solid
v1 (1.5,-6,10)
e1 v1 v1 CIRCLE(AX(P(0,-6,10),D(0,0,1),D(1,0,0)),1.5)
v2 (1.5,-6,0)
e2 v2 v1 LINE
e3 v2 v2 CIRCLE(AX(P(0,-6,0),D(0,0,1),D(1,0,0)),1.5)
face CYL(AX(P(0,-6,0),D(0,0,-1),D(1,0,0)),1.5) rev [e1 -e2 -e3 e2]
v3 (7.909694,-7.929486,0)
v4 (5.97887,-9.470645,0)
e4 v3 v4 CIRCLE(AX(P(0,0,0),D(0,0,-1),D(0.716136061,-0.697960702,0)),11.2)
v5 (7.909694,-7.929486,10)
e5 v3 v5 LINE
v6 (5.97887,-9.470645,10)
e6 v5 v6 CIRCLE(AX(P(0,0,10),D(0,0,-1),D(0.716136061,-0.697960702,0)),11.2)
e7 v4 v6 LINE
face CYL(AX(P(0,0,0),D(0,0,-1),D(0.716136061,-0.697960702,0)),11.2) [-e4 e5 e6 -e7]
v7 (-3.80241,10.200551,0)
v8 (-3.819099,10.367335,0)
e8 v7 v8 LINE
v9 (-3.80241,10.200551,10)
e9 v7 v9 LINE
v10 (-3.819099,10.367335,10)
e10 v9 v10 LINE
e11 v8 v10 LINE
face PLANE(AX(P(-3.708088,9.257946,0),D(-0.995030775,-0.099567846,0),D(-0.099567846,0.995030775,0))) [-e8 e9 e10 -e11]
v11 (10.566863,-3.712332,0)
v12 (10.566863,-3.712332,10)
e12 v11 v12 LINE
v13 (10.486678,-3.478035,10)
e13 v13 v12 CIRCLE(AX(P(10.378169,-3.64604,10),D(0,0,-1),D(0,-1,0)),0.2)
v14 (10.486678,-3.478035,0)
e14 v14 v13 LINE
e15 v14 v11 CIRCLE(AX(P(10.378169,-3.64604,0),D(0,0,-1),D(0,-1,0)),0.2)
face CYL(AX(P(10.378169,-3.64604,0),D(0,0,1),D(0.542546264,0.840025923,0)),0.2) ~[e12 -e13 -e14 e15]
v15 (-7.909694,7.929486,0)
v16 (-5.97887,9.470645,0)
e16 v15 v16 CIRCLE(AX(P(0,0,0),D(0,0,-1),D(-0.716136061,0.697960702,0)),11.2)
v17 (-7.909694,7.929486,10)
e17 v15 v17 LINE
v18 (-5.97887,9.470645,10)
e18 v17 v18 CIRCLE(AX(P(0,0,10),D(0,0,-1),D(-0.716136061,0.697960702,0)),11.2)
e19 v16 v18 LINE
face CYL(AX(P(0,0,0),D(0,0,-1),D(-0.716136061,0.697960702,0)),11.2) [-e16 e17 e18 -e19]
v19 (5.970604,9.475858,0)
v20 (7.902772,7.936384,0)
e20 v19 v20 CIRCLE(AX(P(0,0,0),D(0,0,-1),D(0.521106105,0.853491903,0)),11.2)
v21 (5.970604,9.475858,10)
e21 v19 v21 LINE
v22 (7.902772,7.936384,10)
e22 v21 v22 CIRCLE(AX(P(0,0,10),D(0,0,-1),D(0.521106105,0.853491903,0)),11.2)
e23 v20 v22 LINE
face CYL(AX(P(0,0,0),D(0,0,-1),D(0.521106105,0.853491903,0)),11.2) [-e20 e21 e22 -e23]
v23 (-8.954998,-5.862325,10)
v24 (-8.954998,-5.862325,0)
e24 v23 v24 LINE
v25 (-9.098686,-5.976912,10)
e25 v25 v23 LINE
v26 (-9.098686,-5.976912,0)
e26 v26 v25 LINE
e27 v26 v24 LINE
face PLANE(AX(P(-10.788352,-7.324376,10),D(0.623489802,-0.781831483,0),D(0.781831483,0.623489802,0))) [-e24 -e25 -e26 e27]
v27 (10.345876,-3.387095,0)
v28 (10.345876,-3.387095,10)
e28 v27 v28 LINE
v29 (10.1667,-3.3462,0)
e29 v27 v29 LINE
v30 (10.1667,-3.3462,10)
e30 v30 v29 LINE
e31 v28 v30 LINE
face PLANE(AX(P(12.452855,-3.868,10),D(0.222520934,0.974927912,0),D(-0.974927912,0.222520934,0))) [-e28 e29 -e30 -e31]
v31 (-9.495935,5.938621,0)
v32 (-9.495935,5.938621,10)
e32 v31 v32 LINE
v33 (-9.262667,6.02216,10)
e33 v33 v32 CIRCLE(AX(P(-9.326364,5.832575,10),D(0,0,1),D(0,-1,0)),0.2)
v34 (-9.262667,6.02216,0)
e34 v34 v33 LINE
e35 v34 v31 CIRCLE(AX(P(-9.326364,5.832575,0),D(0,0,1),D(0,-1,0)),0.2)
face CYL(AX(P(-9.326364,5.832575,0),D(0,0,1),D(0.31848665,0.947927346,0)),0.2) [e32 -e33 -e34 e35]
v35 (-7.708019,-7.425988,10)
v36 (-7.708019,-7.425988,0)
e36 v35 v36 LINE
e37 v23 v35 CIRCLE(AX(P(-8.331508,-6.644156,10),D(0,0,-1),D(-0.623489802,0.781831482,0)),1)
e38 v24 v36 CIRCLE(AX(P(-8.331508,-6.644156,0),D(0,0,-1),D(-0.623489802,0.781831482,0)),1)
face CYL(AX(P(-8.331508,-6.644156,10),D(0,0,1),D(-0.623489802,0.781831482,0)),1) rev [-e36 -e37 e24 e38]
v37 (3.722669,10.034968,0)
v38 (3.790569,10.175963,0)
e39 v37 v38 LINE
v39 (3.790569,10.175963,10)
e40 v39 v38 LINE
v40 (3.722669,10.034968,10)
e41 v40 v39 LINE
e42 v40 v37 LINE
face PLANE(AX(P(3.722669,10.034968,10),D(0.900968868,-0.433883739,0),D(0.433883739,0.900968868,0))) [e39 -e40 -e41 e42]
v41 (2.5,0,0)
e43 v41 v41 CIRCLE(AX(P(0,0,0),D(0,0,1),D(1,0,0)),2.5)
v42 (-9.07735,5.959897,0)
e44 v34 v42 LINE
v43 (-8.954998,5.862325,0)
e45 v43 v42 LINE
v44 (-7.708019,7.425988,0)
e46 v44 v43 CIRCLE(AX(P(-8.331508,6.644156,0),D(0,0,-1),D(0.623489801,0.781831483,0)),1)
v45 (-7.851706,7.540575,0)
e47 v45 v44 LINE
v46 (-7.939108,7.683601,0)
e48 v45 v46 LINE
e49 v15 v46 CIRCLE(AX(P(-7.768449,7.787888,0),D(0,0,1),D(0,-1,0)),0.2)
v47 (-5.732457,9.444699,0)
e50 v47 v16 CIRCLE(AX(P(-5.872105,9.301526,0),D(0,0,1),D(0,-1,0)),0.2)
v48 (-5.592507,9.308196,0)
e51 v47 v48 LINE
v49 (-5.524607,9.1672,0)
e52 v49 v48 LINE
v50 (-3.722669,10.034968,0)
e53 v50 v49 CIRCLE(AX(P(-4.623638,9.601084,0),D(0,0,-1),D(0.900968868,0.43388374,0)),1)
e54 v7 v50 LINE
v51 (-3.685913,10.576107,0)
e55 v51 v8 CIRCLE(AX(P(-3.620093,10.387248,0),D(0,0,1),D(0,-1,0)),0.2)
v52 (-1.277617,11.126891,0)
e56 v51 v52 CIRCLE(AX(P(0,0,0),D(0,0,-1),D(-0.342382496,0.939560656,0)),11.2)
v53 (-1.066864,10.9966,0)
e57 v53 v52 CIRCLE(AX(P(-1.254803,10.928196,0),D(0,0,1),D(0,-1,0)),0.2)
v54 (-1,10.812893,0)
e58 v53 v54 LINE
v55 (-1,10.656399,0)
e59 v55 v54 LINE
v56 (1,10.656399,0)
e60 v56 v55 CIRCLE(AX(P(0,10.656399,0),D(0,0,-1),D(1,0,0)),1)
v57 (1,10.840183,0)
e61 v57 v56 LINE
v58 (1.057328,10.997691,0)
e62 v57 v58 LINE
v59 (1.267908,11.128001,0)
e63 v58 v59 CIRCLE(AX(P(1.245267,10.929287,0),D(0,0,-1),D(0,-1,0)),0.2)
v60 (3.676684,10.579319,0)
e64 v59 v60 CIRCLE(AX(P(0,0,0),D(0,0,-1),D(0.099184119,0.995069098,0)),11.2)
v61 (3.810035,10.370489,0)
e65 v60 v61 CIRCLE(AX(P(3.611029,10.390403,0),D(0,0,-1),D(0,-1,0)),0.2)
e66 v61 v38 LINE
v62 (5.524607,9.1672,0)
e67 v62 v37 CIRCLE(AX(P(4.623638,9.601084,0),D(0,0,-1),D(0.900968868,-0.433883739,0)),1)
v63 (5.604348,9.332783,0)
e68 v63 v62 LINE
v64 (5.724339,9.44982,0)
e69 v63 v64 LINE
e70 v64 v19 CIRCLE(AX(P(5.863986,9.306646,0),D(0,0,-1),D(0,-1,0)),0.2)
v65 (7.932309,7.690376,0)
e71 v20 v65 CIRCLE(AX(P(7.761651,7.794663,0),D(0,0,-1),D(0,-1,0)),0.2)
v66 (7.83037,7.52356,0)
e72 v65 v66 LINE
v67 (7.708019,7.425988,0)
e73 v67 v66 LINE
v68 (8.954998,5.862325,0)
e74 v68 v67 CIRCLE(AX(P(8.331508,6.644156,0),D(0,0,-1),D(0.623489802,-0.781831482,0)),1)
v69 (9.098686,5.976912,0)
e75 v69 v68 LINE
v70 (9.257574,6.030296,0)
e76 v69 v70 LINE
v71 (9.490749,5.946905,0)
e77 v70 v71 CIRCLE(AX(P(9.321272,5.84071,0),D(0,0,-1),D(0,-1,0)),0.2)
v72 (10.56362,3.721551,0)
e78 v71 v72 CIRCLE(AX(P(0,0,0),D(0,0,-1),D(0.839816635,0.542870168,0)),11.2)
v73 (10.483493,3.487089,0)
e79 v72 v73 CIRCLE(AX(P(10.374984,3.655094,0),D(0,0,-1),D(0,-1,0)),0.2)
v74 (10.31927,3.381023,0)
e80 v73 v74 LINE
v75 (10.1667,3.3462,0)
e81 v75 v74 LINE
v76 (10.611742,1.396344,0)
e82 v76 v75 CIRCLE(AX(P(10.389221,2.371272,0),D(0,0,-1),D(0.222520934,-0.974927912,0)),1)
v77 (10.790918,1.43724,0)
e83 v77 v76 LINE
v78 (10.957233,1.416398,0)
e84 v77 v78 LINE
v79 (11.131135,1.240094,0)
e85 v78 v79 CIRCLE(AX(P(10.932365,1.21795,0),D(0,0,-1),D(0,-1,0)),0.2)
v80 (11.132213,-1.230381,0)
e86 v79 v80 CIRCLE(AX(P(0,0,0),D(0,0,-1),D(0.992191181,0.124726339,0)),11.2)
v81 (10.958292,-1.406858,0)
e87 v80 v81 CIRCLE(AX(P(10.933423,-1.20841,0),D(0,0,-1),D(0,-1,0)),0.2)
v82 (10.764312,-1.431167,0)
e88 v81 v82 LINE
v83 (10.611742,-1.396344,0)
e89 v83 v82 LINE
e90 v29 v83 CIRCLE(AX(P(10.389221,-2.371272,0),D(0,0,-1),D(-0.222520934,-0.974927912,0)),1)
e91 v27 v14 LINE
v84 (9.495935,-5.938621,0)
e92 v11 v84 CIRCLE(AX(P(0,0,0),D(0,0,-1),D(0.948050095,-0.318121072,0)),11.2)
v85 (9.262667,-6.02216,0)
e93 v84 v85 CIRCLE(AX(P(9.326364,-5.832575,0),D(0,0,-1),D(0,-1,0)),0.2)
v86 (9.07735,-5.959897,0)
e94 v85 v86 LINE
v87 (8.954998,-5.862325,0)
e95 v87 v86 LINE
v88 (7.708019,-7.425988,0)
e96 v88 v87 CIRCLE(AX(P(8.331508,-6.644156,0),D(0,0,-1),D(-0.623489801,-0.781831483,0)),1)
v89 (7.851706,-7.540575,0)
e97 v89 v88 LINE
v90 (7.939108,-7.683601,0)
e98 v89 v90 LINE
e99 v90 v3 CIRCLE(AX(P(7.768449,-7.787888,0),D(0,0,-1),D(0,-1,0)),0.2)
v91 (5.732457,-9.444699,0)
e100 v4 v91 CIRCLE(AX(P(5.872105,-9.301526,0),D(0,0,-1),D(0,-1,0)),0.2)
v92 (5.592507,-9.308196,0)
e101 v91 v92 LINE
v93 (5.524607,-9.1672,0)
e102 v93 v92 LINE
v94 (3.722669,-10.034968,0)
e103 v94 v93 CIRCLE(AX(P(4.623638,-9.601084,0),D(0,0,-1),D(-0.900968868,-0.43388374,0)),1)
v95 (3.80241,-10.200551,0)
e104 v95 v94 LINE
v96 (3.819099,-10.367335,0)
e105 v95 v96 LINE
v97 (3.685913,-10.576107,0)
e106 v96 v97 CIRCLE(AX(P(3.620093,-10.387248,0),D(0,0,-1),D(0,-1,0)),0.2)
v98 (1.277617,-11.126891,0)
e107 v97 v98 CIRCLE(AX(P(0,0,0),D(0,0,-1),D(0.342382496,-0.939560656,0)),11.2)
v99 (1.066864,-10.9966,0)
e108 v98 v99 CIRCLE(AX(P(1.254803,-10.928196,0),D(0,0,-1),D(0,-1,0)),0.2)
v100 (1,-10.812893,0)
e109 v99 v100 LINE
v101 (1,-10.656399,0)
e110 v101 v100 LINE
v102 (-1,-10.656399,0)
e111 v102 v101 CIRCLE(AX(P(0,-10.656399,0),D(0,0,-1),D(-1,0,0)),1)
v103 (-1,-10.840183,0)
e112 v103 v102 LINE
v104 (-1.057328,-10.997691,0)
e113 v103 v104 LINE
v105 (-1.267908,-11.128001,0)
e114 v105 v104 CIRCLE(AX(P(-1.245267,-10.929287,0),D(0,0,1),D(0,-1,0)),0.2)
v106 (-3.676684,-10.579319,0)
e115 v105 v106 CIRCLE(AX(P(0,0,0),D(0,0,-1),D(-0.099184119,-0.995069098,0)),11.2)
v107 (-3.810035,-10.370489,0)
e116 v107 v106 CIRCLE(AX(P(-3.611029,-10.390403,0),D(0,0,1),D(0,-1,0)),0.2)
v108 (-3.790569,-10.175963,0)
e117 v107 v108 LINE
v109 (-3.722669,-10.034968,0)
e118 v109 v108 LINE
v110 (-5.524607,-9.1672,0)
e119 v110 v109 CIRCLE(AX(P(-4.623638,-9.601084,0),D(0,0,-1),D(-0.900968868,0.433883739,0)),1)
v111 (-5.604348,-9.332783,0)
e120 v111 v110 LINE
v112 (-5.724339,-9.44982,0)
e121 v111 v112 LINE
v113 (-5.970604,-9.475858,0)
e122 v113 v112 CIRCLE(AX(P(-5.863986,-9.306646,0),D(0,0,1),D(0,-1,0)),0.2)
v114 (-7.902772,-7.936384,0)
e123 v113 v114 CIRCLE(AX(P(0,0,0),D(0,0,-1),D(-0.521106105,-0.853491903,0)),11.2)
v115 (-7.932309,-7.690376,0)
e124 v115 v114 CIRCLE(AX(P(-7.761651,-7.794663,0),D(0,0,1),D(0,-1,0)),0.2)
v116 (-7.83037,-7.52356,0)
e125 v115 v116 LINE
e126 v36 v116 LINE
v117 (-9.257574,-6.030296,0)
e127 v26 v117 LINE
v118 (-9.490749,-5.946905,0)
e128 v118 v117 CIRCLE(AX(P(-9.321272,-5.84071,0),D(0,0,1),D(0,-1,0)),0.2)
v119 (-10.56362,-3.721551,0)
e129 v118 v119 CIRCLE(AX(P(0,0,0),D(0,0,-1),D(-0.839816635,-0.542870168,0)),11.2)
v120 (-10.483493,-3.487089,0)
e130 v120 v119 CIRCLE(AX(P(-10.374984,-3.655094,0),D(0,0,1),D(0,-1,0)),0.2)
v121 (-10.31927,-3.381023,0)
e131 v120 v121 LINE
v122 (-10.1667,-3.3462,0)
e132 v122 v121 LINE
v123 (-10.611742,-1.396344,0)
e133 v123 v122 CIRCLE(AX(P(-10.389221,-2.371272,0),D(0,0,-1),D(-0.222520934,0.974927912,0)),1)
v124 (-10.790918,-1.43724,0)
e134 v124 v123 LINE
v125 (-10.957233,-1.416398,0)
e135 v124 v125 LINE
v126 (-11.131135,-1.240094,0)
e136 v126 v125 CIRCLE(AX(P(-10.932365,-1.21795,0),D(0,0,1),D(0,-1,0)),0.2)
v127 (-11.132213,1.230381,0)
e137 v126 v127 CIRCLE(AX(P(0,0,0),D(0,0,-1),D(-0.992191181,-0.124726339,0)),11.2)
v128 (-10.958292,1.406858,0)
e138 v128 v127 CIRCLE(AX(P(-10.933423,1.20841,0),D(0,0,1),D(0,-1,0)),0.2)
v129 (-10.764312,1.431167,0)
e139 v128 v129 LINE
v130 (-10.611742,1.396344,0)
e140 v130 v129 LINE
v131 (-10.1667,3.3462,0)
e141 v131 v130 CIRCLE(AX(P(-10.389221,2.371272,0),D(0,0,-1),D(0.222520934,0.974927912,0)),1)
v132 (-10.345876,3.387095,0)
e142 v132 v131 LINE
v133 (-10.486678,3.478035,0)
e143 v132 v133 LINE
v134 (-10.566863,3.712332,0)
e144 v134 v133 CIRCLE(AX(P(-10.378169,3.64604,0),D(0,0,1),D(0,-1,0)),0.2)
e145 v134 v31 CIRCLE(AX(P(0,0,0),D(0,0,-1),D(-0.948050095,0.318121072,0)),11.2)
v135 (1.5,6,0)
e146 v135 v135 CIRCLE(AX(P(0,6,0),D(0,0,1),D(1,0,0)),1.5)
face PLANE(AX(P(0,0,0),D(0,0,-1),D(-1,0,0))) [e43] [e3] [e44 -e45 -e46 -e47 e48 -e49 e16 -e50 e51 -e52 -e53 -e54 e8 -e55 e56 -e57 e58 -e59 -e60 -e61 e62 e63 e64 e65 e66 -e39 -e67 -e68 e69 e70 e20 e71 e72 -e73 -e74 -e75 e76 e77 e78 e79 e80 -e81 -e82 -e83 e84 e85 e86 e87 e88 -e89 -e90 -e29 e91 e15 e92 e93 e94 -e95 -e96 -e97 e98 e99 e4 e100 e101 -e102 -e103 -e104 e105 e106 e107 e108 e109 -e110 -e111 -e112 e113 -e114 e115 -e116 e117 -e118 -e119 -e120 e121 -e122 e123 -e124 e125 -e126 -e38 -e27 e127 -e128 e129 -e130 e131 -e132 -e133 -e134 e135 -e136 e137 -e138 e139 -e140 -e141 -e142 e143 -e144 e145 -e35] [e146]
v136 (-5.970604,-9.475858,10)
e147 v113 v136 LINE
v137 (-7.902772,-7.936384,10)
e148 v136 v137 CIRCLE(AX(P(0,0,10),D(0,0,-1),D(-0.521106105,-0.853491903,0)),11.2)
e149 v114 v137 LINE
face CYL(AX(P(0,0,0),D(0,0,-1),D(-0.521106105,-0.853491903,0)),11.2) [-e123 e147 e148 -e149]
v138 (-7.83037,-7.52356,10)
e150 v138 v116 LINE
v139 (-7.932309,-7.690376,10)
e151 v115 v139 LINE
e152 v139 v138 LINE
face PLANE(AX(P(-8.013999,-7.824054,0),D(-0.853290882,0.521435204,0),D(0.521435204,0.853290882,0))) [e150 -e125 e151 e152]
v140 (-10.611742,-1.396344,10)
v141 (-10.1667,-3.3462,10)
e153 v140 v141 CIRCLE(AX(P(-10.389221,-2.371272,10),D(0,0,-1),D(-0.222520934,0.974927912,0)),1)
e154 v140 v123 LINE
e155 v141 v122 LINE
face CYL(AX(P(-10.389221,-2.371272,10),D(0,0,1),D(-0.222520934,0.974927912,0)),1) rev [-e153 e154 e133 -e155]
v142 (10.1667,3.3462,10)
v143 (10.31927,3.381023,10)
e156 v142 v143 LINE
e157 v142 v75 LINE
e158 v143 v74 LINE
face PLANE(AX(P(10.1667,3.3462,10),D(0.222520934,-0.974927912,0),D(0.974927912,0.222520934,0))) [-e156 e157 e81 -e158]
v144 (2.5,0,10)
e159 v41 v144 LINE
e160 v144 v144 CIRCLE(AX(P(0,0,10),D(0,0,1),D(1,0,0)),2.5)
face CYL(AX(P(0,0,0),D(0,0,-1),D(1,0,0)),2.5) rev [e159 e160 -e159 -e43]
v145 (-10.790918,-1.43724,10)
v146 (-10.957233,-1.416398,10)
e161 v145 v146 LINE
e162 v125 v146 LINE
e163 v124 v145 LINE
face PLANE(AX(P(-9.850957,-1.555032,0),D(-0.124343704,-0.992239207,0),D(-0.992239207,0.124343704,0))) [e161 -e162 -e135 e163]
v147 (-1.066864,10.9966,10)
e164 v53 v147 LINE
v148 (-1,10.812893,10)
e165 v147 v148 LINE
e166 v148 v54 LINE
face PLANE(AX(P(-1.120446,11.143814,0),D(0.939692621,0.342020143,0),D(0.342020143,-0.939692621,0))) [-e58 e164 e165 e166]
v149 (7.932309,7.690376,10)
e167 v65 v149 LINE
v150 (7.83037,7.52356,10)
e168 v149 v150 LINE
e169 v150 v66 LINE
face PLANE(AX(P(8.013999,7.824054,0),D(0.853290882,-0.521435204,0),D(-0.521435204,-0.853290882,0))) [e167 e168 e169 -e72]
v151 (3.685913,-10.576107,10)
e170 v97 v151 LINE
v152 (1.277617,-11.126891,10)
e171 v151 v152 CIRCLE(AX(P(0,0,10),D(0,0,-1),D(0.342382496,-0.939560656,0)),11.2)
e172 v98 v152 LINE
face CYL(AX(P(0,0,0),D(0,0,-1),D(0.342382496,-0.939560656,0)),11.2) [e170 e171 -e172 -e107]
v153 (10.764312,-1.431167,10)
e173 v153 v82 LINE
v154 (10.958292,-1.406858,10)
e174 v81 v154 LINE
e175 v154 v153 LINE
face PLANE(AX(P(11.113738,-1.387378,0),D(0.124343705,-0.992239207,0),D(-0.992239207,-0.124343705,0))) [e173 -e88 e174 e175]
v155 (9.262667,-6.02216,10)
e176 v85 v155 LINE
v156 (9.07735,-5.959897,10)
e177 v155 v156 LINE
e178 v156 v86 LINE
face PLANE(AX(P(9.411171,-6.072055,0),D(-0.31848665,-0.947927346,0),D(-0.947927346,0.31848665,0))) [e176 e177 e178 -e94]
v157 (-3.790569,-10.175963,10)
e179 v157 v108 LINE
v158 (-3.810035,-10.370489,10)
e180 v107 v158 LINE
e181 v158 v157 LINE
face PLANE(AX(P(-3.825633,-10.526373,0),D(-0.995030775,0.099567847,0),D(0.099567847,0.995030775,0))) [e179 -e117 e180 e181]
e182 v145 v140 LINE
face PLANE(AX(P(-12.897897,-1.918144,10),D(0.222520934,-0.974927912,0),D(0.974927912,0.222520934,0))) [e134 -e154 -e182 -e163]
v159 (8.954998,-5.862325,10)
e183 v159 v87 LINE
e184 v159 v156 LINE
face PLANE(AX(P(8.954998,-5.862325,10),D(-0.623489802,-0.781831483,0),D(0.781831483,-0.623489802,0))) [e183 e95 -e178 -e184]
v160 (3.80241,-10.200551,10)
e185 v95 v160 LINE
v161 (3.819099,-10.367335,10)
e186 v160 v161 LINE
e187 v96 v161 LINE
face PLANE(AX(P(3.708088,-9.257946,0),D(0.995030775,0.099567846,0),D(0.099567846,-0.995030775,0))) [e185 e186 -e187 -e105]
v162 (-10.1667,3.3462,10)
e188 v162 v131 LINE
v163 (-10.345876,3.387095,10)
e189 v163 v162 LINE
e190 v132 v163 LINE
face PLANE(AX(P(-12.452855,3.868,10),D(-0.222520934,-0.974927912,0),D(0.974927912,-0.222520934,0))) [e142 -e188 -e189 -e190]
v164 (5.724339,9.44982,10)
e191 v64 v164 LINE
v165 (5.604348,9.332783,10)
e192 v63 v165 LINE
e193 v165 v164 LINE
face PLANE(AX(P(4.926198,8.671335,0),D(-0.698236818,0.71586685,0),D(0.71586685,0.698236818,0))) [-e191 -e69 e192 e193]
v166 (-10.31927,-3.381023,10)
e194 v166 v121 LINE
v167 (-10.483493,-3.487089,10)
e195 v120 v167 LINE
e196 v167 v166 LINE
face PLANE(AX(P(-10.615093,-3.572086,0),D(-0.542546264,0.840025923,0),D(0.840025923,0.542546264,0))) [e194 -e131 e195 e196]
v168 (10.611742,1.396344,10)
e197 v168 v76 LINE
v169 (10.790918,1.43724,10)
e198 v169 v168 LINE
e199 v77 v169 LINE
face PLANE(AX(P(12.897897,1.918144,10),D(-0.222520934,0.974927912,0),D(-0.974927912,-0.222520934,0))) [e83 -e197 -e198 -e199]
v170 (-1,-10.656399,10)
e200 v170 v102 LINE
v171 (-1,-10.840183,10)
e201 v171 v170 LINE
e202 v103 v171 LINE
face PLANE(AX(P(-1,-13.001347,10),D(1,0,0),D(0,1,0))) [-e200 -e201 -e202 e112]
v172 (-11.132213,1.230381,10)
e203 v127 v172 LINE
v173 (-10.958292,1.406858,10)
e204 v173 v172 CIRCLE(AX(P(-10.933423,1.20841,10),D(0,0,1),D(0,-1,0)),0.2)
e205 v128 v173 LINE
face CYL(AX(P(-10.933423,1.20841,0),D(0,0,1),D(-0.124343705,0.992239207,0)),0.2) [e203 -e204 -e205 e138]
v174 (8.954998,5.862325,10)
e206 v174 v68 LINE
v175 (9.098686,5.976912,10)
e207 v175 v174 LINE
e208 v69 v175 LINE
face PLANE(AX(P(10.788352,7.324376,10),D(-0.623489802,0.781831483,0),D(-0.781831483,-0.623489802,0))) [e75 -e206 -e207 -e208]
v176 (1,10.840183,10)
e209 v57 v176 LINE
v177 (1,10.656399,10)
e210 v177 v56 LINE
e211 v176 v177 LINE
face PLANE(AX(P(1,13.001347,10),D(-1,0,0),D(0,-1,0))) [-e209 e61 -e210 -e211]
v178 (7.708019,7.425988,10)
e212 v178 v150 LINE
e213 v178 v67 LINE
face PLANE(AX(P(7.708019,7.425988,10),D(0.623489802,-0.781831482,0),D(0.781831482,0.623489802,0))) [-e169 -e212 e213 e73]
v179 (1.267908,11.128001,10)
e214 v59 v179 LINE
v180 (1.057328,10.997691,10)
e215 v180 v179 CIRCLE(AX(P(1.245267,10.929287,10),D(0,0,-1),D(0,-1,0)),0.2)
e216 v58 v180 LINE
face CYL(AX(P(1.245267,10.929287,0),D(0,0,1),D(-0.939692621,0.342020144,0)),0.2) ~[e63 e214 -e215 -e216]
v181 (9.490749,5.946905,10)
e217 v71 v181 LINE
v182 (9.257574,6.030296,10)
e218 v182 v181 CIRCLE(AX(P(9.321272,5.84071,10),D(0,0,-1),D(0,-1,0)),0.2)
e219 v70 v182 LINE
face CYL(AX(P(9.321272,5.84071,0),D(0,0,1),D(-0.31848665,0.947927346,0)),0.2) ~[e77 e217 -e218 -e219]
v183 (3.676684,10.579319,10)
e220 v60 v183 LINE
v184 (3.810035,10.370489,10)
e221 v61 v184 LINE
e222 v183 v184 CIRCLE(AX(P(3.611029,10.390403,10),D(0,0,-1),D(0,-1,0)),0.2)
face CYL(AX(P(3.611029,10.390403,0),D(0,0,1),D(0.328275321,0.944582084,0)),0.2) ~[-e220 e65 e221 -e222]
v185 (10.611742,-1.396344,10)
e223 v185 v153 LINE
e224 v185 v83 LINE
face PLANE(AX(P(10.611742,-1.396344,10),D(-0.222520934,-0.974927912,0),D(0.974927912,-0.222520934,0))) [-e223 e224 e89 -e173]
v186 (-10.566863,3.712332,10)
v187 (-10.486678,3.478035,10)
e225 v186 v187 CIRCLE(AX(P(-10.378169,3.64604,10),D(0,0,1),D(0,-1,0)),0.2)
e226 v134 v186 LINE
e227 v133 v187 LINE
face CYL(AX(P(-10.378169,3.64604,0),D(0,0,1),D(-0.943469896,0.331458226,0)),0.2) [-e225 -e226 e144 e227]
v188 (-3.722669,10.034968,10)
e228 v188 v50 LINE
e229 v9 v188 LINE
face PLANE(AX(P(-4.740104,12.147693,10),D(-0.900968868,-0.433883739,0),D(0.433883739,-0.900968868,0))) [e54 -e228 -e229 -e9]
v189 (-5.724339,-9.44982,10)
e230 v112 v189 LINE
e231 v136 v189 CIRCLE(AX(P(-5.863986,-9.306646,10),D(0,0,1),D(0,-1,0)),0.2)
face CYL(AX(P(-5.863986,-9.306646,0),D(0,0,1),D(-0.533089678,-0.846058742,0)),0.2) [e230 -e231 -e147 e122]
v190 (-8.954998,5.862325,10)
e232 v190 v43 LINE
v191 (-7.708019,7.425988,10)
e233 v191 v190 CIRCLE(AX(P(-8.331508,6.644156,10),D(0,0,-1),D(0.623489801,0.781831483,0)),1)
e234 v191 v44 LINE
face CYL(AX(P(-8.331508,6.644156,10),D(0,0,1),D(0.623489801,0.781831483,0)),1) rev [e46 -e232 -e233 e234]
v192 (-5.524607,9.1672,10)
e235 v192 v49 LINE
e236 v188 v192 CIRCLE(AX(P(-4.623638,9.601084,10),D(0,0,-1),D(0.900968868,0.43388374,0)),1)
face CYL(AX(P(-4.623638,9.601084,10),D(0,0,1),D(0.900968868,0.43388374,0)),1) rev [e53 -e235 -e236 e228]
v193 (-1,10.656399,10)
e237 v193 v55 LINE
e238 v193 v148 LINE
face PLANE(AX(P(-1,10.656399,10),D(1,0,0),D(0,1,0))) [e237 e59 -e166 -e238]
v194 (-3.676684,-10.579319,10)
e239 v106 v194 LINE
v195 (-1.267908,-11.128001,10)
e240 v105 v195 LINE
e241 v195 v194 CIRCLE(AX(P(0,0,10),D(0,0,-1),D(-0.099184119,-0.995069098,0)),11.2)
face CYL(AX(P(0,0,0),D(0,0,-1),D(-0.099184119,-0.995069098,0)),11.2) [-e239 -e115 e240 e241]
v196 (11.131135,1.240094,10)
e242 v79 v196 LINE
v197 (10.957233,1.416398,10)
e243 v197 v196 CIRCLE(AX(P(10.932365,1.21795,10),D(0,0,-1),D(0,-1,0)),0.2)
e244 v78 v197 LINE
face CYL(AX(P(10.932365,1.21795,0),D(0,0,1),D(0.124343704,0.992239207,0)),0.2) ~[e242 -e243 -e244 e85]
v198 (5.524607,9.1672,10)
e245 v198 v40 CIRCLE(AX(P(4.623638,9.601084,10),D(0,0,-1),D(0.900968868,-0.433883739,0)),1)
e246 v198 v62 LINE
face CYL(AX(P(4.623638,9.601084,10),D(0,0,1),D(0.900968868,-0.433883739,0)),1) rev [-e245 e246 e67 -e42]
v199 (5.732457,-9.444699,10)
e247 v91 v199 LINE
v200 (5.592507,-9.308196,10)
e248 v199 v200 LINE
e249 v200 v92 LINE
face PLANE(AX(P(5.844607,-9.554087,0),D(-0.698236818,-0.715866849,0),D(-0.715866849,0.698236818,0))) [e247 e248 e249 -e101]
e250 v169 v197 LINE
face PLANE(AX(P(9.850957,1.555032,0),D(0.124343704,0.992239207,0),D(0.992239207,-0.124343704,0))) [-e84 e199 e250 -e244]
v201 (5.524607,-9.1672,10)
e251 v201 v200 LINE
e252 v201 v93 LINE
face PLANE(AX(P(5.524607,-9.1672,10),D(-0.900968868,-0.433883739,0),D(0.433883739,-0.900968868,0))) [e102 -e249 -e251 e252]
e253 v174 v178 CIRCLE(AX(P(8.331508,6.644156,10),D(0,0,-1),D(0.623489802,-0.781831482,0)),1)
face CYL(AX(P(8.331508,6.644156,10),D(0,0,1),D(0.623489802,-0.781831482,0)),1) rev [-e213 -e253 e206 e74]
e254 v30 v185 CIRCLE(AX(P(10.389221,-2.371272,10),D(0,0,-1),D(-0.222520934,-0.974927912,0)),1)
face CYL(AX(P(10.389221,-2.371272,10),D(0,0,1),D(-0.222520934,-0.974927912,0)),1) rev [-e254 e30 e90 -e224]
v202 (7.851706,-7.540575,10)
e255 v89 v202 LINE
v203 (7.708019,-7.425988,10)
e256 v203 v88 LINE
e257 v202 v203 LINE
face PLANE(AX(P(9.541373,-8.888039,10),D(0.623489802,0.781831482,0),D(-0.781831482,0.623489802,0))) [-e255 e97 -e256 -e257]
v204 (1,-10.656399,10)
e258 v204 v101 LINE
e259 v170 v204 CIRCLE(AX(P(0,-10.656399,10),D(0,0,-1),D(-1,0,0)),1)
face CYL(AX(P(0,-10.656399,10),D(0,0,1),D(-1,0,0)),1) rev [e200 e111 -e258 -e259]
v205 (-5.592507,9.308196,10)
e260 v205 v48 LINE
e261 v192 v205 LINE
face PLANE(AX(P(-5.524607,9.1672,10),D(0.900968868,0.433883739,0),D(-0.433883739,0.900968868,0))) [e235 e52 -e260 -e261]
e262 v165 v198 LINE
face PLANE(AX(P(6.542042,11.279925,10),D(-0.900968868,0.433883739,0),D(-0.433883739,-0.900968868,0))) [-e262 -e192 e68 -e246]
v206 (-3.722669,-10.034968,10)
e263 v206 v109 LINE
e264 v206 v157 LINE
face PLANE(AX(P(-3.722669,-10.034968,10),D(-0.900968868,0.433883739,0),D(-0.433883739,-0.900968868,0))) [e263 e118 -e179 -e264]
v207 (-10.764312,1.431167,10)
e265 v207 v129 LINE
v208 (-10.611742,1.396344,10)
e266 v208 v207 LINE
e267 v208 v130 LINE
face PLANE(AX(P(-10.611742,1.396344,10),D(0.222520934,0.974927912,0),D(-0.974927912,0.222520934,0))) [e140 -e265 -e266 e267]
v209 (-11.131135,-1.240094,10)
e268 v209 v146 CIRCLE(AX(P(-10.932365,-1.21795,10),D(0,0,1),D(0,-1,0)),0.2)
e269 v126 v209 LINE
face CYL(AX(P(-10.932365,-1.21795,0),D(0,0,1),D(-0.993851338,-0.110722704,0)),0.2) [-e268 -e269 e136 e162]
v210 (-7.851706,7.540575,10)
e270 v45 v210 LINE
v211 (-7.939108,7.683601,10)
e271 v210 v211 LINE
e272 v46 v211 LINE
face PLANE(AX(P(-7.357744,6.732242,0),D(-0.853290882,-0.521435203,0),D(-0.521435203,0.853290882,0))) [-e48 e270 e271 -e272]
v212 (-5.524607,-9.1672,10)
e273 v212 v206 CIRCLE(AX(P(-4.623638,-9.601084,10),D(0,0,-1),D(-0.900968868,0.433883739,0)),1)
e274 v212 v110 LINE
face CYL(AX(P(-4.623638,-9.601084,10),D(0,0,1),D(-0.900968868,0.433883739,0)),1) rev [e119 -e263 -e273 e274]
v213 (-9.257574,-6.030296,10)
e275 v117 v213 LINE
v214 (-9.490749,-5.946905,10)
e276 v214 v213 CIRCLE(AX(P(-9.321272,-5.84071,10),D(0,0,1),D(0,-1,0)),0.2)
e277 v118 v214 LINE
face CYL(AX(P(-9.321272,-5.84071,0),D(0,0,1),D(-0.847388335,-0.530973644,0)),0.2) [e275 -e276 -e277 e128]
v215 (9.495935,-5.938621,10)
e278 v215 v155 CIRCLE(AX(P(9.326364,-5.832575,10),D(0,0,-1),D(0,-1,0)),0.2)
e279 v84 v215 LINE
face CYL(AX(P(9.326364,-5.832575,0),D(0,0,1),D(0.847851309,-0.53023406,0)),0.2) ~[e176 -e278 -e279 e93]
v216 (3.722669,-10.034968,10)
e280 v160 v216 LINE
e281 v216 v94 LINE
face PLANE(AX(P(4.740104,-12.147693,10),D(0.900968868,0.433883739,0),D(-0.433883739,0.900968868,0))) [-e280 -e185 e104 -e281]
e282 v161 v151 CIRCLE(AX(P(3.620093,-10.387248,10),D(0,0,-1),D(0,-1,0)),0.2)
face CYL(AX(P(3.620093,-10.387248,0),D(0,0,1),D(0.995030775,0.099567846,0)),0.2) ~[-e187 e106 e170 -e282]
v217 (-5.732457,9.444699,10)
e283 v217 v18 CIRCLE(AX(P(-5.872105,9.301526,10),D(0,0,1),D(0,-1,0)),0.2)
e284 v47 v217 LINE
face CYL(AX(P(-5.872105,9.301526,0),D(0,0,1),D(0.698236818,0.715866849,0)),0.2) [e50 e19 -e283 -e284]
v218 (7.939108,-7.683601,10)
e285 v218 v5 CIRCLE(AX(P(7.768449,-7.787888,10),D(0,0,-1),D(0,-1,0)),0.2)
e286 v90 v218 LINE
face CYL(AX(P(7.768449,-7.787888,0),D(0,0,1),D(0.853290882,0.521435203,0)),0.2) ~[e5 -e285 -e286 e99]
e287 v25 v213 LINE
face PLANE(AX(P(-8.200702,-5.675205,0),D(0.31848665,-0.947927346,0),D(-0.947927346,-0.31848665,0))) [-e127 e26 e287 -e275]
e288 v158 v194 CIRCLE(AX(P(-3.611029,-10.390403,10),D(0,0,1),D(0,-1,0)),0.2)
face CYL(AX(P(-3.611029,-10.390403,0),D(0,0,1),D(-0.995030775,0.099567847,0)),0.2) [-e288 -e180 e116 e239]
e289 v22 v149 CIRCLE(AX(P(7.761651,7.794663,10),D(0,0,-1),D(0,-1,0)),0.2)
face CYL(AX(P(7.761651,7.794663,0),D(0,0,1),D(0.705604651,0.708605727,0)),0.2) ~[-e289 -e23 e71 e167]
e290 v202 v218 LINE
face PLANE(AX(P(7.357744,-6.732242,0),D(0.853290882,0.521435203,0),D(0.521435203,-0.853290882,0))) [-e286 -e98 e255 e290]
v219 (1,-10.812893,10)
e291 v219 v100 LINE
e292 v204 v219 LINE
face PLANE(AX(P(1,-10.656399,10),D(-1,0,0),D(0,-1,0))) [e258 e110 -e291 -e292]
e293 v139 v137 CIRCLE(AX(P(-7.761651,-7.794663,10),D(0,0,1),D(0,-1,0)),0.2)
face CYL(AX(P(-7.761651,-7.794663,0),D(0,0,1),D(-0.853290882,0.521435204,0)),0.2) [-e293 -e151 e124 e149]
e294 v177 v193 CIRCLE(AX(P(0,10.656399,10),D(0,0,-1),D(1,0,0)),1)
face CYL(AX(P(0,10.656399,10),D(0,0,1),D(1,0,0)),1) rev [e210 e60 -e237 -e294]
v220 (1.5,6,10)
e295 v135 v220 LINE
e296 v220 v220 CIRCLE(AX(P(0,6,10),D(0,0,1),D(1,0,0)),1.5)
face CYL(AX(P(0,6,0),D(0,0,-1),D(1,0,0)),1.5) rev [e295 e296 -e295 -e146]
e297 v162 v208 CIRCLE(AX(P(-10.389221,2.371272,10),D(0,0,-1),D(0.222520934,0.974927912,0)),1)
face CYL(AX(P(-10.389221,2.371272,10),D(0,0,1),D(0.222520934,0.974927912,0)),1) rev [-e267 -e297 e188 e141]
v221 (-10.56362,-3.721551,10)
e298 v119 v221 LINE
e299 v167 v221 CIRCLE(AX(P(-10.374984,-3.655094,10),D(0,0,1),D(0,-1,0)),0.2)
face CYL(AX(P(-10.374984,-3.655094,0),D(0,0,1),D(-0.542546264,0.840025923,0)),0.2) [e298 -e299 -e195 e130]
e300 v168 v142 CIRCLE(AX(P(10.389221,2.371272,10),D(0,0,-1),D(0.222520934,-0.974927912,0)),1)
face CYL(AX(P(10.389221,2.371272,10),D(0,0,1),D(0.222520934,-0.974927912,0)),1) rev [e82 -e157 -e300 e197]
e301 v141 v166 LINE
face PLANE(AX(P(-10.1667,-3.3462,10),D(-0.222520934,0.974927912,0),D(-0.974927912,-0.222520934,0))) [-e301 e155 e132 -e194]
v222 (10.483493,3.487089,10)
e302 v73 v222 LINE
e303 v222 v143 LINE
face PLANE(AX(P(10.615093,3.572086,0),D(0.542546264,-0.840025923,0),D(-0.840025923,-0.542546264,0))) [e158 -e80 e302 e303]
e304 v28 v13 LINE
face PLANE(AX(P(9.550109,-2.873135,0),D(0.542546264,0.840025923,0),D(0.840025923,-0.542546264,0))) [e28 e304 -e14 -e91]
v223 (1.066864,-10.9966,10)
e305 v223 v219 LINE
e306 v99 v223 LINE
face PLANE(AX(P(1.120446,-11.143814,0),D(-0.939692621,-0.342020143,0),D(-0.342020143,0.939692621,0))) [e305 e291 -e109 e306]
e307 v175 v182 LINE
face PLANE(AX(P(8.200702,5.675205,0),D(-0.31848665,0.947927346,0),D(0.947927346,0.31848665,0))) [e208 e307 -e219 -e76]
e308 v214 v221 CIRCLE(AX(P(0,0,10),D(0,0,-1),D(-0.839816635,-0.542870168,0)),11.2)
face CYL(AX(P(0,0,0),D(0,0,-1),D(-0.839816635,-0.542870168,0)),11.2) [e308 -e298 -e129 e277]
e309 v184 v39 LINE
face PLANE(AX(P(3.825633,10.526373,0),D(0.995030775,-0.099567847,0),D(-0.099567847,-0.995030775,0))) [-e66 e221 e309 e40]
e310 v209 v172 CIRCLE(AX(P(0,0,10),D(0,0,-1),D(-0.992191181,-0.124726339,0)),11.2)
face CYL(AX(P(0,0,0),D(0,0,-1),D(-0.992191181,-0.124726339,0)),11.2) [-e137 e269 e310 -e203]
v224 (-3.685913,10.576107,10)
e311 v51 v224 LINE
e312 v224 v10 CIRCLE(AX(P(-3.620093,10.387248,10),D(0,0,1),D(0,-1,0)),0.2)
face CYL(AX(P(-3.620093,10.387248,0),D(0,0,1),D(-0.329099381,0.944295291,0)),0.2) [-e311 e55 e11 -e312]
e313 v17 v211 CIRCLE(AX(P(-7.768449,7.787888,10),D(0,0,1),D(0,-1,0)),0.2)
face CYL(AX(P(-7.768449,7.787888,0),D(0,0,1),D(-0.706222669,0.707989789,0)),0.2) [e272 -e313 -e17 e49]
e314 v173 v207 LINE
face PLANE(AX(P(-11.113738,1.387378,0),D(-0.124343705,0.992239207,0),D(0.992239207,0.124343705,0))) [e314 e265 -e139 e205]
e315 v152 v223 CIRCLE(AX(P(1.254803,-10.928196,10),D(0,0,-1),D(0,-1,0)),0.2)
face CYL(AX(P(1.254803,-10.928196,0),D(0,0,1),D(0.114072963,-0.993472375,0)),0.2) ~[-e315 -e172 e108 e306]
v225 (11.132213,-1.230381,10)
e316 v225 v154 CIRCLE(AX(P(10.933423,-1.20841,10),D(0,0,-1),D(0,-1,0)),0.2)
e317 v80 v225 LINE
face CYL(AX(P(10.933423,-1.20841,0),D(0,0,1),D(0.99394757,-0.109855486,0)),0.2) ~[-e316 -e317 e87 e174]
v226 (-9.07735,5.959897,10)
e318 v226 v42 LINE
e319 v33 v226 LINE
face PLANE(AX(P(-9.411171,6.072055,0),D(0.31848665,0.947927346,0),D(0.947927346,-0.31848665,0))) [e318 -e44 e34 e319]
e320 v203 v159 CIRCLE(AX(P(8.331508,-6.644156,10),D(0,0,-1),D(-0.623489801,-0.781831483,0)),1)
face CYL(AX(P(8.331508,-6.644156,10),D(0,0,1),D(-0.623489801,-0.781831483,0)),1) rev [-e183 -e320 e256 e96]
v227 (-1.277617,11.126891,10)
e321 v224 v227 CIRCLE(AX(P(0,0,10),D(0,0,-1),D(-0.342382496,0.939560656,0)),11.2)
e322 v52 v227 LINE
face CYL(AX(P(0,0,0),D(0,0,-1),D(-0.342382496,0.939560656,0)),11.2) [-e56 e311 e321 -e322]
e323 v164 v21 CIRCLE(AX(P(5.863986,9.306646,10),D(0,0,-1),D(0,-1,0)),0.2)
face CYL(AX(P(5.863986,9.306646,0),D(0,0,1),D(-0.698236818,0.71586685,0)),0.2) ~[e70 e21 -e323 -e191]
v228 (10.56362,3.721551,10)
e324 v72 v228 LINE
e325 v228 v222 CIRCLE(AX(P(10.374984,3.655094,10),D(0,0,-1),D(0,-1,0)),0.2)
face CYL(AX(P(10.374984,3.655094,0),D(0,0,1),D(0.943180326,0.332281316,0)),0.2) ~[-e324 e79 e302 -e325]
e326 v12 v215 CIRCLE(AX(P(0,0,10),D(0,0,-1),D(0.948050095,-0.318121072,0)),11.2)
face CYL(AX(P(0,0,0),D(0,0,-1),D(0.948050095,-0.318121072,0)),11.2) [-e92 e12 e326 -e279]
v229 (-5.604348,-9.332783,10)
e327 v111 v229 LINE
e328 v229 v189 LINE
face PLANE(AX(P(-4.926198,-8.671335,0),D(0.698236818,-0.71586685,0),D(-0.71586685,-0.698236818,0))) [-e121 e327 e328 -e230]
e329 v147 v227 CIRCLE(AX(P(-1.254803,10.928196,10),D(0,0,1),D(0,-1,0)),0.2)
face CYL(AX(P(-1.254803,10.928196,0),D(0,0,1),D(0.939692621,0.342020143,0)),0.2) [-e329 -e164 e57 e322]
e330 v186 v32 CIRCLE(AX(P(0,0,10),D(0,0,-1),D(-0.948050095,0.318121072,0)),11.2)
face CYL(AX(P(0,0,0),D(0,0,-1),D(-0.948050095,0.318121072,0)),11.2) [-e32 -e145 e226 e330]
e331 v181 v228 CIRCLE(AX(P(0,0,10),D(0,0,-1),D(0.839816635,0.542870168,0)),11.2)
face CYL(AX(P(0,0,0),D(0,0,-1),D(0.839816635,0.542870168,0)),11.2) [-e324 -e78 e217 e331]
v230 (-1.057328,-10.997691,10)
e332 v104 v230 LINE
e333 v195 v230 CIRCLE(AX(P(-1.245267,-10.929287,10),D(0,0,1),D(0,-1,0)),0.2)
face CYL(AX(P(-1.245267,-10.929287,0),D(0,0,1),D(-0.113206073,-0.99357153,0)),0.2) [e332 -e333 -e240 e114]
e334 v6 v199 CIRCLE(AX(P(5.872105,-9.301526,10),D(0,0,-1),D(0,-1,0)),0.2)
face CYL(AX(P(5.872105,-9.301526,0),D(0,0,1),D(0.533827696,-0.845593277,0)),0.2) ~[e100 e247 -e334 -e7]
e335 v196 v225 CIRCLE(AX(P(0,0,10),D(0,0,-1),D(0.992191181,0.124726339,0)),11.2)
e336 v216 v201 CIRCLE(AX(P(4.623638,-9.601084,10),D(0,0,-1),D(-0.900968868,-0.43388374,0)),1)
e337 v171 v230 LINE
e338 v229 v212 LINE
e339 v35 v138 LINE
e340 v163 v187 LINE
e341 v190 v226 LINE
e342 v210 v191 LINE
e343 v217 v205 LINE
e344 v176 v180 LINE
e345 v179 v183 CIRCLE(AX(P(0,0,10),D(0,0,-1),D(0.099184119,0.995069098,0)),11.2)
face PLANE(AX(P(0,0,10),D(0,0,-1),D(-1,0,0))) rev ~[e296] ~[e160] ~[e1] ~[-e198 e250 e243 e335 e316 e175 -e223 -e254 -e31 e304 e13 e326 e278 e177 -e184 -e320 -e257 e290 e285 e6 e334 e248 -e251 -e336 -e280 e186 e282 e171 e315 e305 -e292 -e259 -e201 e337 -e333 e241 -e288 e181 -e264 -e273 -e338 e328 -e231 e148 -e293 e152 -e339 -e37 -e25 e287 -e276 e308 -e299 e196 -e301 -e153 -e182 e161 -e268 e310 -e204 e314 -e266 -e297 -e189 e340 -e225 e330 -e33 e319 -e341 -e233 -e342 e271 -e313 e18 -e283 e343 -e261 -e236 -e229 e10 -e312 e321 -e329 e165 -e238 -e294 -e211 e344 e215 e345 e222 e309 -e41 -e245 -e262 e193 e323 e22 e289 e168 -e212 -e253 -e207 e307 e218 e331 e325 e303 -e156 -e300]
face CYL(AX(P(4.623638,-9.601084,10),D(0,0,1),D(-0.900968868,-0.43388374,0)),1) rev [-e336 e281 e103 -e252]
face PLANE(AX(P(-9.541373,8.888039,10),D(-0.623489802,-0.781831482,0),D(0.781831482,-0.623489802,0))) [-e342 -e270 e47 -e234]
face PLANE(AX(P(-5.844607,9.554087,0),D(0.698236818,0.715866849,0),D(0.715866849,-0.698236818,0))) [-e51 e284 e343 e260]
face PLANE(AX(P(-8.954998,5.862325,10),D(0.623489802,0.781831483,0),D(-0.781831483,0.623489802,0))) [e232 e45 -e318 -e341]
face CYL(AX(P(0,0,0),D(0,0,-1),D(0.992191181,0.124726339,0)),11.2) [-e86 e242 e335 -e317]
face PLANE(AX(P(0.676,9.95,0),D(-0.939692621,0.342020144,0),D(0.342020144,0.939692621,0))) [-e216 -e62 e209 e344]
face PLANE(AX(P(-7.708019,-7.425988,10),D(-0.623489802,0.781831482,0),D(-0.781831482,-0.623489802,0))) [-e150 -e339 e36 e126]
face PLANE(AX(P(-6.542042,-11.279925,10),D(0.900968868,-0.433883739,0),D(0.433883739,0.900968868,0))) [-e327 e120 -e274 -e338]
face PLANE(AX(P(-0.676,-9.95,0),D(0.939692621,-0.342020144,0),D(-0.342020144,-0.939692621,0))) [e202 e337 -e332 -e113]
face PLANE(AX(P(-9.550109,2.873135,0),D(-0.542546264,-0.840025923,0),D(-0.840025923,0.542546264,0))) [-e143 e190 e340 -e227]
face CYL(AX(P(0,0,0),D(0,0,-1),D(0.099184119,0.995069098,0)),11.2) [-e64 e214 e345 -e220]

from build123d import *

# Parameters (mm, degrees)
SKETCH_1_R          = 2.5
SKETCH_1_R_2        = 1.5
EXTRUDE_1_DEPTH     = 10
FILLET_1_R          = 0.2
CUT_EXTRUDE_1_DEPTH = 10


with BuildPart() as part:
    # Эскиз1 → Вытянуть1 (new body)
    with BuildSketch(Plane.XY):
        with BuildLine():
            Line((-0.685932761, 9.95), (0, 9.95))
            Line((0, 9.95), (0.676, 9.95))
            Line((0.676, 9.95), (1.110862137, 11.144773901))
            ThreePointArc((1.110862137, 11.144773901), (2.487539236, 10.920263209), (3.825633205, 10.526373097))
            Line((3.825633205, 10.526373097), (3.699139141, 9.262255307))
            Line((3.699139141, 9.262255307), (4.317143204, 8.964640236))
            Line((4.317143204, 8.964640236), (4.926198159, 8.671334828))
            Line((4.926198159, 8.671334828), (5.836388374, 9.559109307))
            ThreePointArc((5.836388374, 9.559109307), (6.979320043, 8.759514355), (8.013998536, 7.824054413))
            Line((8.013998536, 7.824054413), (7.351551169, 6.740007356))
            Line((7.351551169, 6.740007356), (7.779223251, 6.203723528))
            Line((7.779223251, 6.203723528), (8.200702357, 5.675205446))
            Line((8.200702357, 5.675205446), (9.405946315, 6.08014588))
            ThreePointArc((9.405946315, 6.08014588), (10.088760919, 4.863836255), (10.615093172, 3.572085797))
            Line((10.615093172, 3.572085797), (9.547898328, 2.882818288))
            Line((9.547898328, 2.882818288), (9.700532726, 2.214083293))
            Line((9.700532726, 2.214083293), (9.850956878, 1.555032024))
            Line((9.850956878, 1.555032024), (11.112541232, 1.396934994))
            ThreePointArc((11.112541232, 1.396934994), (11.199998965, 0.004815734), (11.11373842, -1.38737822))
            Line((11.11373842, -1.38737822), (9.853167125, -1.545348298))
            Line((9.853167125, -1.545348298), (9.700532726, -2.214083293))
            Line((9.700532726, -2.214083293), (9.550108575, -2.873134562))
            Line((9.550108575, -2.873134562), (10.618161071, -3.562956001))
            ThreePointArc((10.618161071, -3.562956001), (10.092939856, -4.855158602), (9.411171473, -6.072054966))
            Line((9.411171473, -6.072054966), (8.206895332, -5.667439701))
            Line((8.206895332, -5.667439701), (7.779223251, -6.203723528))
            Line((7.779223251, -6.203723528), (7.357744145, -6.732241611))
            Line((7.357744145, -6.732241611), (8.020723888, -7.817159863))
            ThreePointArc((8.020723888, -7.817159863), (6.986850228, -8.753509233), (5.844606595, -9.554086756))
            Line((5.844606595, -9.554086756), (4.935147268, -8.667025164))
            Line((4.935147268, -8.667025164), (4.317143204, -8.964640236))
            Line((4.317143204, -8.964640236), (3.70808825, -9.257945643))
            Line((3.70808825, -9.257945643), (3.83468397, -10.523079343))
            ThreePointArc((3.83468397, -10.523079343), (2.496929223, -10.918120005), (1.120445701, -11.143814492))
            Line((1.120445701, -11.143814492), (0.685932761, -9.95))
            Line((0.685932761, -9.95), (0, -9.95))
            Line((0, -9.95), (-0.676, -9.95))
            Line((-0.676, -9.95), (-1.110862137, -11.144773901))
            ThreePointArc((-1.110862137, -11.144773901), (-2.487539236, -10.920263209), (-3.825633205, -10.526373097))
            Line((-3.825633205, -10.526373097), (-3.699139141, -9.262255307))
            Line((-3.699139141, -9.262255307), (-4.317143204, -8.964640236))
            Line((-4.317143204, -8.964640236), (-4.926198159, -8.671334828))
            Line((-4.926198159, -8.671334828), (-5.836388374, -9.559109307))
            ThreePointArc((-5.836388374, -9.559109307), (-6.979320043, -8.759514355), (-8.013998536, -7.824054413))
            Line((-8.013998536, -7.824054413), (-7.351551169, -6.740007356))
            Line((-7.351551169, -6.740007356), (-7.779223251, -6.203723528))
            Line((-7.779223251, -6.203723528), (-8.200702357, -5.675205446))
            Line((-8.200702357, -5.675205446), (-9.405946315, -6.08014588))
            ThreePointArc((-9.405946315, -6.08014588), (-10.088760919, -4.863836255), (-10.615093172, -3.572085797))
            Line((-10.615093172, -3.572085797), (-9.547898328, -2.882818288))
            Line((-9.547898328, -2.882818288), (-9.700532726, -2.214083293))
            Line((-9.700532726, -2.214083293), (-9.850956878, -1.555032024))
            Line((-9.850956878, -1.555032024), (-11.112541232, -1.396934994))
            ThreePointArc((-11.112541232, -1.396934994), (-11.199998965, -0.004815734), (-11.11373842, 1.38737822))
            Line((-11.11373842, 1.38737822), (-9.853167125, 1.545348298))
            Line((-9.853167125, 1.545348298), (-9.700532726, 2.214083293))
            Line((-9.700532726, 2.214083293), (-9.550108575, 2.873134562))
            Line((-9.550108575, 2.873134562), (-10.618161071, 3.562956001))
            ThreePointArc((-10.618161071, 3.562956001), (-10.092939856, 4.855158602), (-9.411171473, 6.072054966))
            Line((-9.411171473, 6.072054966), (-8.206895332, 5.667439701))
            Line((-8.206895332, 5.667439701), (-7.779223251, 6.203723528))
            Line((-7.779223251, 6.203723528), (-7.357744145, 6.732241611))
            Line((-7.357744145, 6.732241611), (-8.020723888, 7.817159863))
            ThreePointArc((-8.020723888, 7.817159863), (-6.986850228, 8.753509233), (-5.844606595, 9.554086756))
            Line((-5.844606595, 9.554086756), (-4.935147268, 8.667025164))
            Line((-4.935147268, 8.667025164), (-4.317143204, 8.964640236))
            Line((-4.317143204, 8.964640236), (-3.70808825, 9.257945643))
            Line((-3.70808825, 9.257945643), (-3.83468397, 10.523079343))
            ThreePointArc((-3.83468397, 10.523079343), (-2.496929223, 10.918120005), (-1.120445701, 11.143814492))
            Line((-1.120445701, 11.143814492), (-0.685932761, 9.95))
        make_face()
        Circle(SKETCH_1_R, mode=Mode.SUBTRACT)
        with Locations((0, 6)):
            Circle(SKETCH_1_R_2, mode=Mode.SUBTRACT)
        with Locations((0, -6)):
            Circle(SKETCH_1_R_2, mode=Mode.SUBTRACT)
    extrude(amount=EXTRUDE_1_DEPTH)

    # Скругление1
    fillet_1_edges = [part.edges().sort_by_distance(p)[0] for p in [
        (9.547898328, 2.882818288, 5),
        (9.850956878, 1.555032024, 5),
        (11.112541232, 1.396934994, 5),
        (11.11373842, -1.38737822, 5),
        (9.853167125, -1.545348298, 5),
        (9.550108575, -2.873134562, 5),
        (10.618161071, -3.562956001, 5),
        (9.411171473, -6.072054966, 5),
        (8.206895332, -5.667439701, 5),
        (7.357744145, -6.732241611, 5),
        (8.020723888, -7.817159863, 5),
        (5.844606595, -9.554086756, 5),
        (4.935147268, -8.667025164, 5),
        (3.70808825, -9.257945643, 5),
        (3.83468397, -10.523079343, 5),
        (1.120445701, -11.143814492, 5),
        (0.685932761, -9.95, 5),
        (-0.676, -9.95, 5),
        (-1.110862137, -11.144773901, 5),
        (-3.825633205, -10.526373097, 5),
        (-3.699139141, -9.262255307, 5),
        (-4.926198159, -8.671334828, 5),
        (-5.836388374, -9.559109307, 5),
        (-8.013998536, -7.824054413, 5),
        (-7.351551169, -6.740007356, 5),
        (-8.200702357, -5.675205446, 5),
        (-9.405946315, -6.08014588, 5),
        (-10.615093172, -3.572085797, 5),
        (-9.547898328, -2.882818288, 5),
        (-9.850956878, -1.555032024, 5),
        (-11.112541232, -1.396934994, 5),
        (-11.11373842, 1.38737822, 5),
        (-9.853167125, 1.545348298, 5),
        (-10.618161071, 3.562956001, 5),
        (-9.411171473, 6.072054966, 5),
        (-8.206895332, 5.667439701, 5),
        (-7.357744145, 6.732241611, 5),
        (-8.020723888, 7.817159863, 5),
        (-5.844606595, 9.554086756, 5),
        (-4.935147268, 8.667025164, 5),
        (-3.70808825, 9.257945643, 5),
        (-3.83468397, 10.523079343, 5),
        (-1.120445701, 11.143814492, 5),
        (-0.685932761, 9.95, 5),
        (0.676, 9.95, 5),
        (1.110862137, 11.144773901, 5),
        (3.825633205, 10.526373097, 5),
        (3.699139141, 9.262255307, 5),
        (4.926198159, 8.671334828, 5),
        (5.836388374, 9.559109307, 5),
        (8.013998536, 7.824054413, 5),
        (7.351551169, 6.740007356, 5),
        (8.200702357, 5.675205446, 5),
        (9.405946315, 6.08014588, 5),
        (10.615093172, 3.572085797, 5),
    ]]
    fillet(fillet_1_edges, radius=FILLET_1_R)

    # Эскиз2 → Вырез-Вытянуть1 (cut)
    with BuildSketch(Plane.XY.offset(10)):
        with BuildLine():
            Line((4.740104239, 12.147692744), (6.542041974, 11.279925266))
            Line((6.542041974, 11.279925266), (5.524607217, 9.167200224))
            ThreePointArc((5.524607217, 9.167200224), (4.18975461, 8.700115095), (3.722669482, 10.034967702))
            Line((3.722669482, 10.034967702), (4.740104239, 12.147692744))
        make_face()
        with BuildLine():
            Line((-1, 13.00134713), (1, 13.00134713))
            Line((1, 13.00134713), (1, 10.656399244))
            ThreePointArc((1, 10.656399244), (0, 9.656399244), (-1, 10.656399244))
            Line((-1, 10.656399244), (-1, 13.00134713))
        make_face()
        with BuildLine():
            Line((9.541372699, 8.888038829), (10.788352303, 7.324375864))
            Line((10.788352303, 7.324375864), (8.95499822, 5.862324771))
            ThreePointArc((8.95499822, 5.862324771), (7.549676936, 6.020666451), (7.708018617, 7.425987736))
            Line((7.708018617, 7.425987736), (9.541372699, 8.888038829))
        make_face()
        with BuildLine():
            Line((12.45285528, 3.867999818), (12.897897147, 1.918143994))
            Line((12.897897147, 1.918143994), (10.611742, 1.396344))
            ThreePointArc((10.611742, 1.396344), (9.414293154, 2.148750978), (10.166700132, 3.346199825))
            Line((10.166700132, 3.346199825), (12.45285528, 3.867999818))
        make_face()
        with BuildLine():
            Line((12.897897147, -1.918143994), (12.45285528, -3.867999818))
            Line((12.45285528, -3.867999818), (10.166700132, -3.346199825))
            ThreePointArc((10.166700132, -3.346199825), (9.414293154, -2.148750978), (10.611742, -1.396344))
            Line((10.611742, -1.396344), (12.897897147, -1.918143994))
        make_face()
        with BuildLine():
            Line((10.788352303, -7.324375864), (9.541372699, -8.888038829))
            Line((9.541372699, -8.888038829), (7.708018617, -7.425987736))
            ThreePointArc((7.708018617, -7.425987736), (7.549676936, -6.020666451), (8.95499822, -5.862324771))
            Line((8.95499822, -5.862324771), (10.788352303, -7.324375864))
        make_face()
        with BuildLine():
            Line((6.542041974, -11.279925266), (4.740104239, -12.147692744))
            Line((4.740104239, -12.147692744), (3.722669482, -10.034967702))
            ThreePointArc((3.722669482, -10.034967702), (4.18975461, -8.700115095), (5.524607217, -9.167200224))
            Line((5.524607217, -9.167200224), (6.542041974, -11.279925266))
        make_face()
        with BuildLine():
            Line((1, -13.00134713), (-1, -13.00134713))
            Line((-1, -13.00134713), (-1, -10.656399244))
            ThreePointArc((-1, -10.656399244), (0, -9.656399244), (1, -10.656399244))
            Line((1, -10.656399244), (1, -13.00134713))
        make_face()
        with BuildLine():
            Line((-4.740104239, -12.147692744), (-6.542041974, -11.279925266))
            Line((-6.542041974, -11.279925266), (-5.524607217, -9.167200224))
            ThreePointArc((-5.524607217, -9.167200224), (-4.18975461, -8.700115095), (-3.722669482, -10.034967702))
            Line((-3.722669482, -10.034967702), (-4.740104239, -12.147692744))
        make_face()
        with BuildLine():
            Line((-9.541372699, -8.888038829), (-10.788352303, -7.324375864))
            Line((-10.788352303, -7.324375864), (-8.95499822, -5.862324771))
            ThreePointArc((-8.95499822, -5.862324771), (-7.549676936, -6.020666451), (-7.708018617, -7.425987736))
            Line((-7.708018617, -7.425987736), (-9.541372699, -8.888038829))
        make_face()
        with BuildLine():
            Line((-12.452855279, -3.867999818), (-12.897897147, -1.918143994))
            Line((-12.897897147, -1.918143994), (-10.611742, -1.396344))
            ThreePointArc((-10.611742, -1.396344), (-9.414293154, -2.148750978), (-10.166700132, -3.346199825))
            Line((-10.166700132, -3.346199825), (-12.452855279, -3.867999818))
        make_face()
        with BuildLine():
            Line((-12.897897147, 1.918143994), (-12.45285528, 3.867999818))
            Line((-12.45285528, 3.867999818), (-10.166700132, 3.346199825))
            ThreePointArc((-10.166700132, 3.346199825), (-9.414293154, 2.148750978), (-10.611742, 1.396344))
            Line((-10.611742, 1.396344), (-12.897897147, 1.918143994))
        make_face()
        with BuildLine():
            Line((-10.788352303, 7.324375864), (-9.541372699, 8.888038829))
            Line((-9.541372699, 8.888038829), (-7.708018617, 7.425987736))
            ThreePointArc((-7.708018617, 7.425987736), (-7.549676936, 6.020666451), (-8.95499822, 5.862324771))
            Line((-8.95499822, 5.862324771), (-10.788352303, 7.324375864))
        make_face()
        with BuildLine():
            Line((-6.542041974, 11.279925266), (-4.740104239, 12.147692744))
            Line((-4.740104239, 12.147692744), (-3.722669482, 10.034967702))
            ThreePointArc((-3.722669482, 10.034967702), (-4.18975461, 8.700115095), (-5.524607217, 9.167200224))
            Line((-5.524607217, 9.167200224), (-6.542041974, 11.279925266))
        make_face()
    extrude(amount=-CUT_EXTRUDE_1_DEPTH, mode=Mode.SUBTRACT)


solid = part.part
